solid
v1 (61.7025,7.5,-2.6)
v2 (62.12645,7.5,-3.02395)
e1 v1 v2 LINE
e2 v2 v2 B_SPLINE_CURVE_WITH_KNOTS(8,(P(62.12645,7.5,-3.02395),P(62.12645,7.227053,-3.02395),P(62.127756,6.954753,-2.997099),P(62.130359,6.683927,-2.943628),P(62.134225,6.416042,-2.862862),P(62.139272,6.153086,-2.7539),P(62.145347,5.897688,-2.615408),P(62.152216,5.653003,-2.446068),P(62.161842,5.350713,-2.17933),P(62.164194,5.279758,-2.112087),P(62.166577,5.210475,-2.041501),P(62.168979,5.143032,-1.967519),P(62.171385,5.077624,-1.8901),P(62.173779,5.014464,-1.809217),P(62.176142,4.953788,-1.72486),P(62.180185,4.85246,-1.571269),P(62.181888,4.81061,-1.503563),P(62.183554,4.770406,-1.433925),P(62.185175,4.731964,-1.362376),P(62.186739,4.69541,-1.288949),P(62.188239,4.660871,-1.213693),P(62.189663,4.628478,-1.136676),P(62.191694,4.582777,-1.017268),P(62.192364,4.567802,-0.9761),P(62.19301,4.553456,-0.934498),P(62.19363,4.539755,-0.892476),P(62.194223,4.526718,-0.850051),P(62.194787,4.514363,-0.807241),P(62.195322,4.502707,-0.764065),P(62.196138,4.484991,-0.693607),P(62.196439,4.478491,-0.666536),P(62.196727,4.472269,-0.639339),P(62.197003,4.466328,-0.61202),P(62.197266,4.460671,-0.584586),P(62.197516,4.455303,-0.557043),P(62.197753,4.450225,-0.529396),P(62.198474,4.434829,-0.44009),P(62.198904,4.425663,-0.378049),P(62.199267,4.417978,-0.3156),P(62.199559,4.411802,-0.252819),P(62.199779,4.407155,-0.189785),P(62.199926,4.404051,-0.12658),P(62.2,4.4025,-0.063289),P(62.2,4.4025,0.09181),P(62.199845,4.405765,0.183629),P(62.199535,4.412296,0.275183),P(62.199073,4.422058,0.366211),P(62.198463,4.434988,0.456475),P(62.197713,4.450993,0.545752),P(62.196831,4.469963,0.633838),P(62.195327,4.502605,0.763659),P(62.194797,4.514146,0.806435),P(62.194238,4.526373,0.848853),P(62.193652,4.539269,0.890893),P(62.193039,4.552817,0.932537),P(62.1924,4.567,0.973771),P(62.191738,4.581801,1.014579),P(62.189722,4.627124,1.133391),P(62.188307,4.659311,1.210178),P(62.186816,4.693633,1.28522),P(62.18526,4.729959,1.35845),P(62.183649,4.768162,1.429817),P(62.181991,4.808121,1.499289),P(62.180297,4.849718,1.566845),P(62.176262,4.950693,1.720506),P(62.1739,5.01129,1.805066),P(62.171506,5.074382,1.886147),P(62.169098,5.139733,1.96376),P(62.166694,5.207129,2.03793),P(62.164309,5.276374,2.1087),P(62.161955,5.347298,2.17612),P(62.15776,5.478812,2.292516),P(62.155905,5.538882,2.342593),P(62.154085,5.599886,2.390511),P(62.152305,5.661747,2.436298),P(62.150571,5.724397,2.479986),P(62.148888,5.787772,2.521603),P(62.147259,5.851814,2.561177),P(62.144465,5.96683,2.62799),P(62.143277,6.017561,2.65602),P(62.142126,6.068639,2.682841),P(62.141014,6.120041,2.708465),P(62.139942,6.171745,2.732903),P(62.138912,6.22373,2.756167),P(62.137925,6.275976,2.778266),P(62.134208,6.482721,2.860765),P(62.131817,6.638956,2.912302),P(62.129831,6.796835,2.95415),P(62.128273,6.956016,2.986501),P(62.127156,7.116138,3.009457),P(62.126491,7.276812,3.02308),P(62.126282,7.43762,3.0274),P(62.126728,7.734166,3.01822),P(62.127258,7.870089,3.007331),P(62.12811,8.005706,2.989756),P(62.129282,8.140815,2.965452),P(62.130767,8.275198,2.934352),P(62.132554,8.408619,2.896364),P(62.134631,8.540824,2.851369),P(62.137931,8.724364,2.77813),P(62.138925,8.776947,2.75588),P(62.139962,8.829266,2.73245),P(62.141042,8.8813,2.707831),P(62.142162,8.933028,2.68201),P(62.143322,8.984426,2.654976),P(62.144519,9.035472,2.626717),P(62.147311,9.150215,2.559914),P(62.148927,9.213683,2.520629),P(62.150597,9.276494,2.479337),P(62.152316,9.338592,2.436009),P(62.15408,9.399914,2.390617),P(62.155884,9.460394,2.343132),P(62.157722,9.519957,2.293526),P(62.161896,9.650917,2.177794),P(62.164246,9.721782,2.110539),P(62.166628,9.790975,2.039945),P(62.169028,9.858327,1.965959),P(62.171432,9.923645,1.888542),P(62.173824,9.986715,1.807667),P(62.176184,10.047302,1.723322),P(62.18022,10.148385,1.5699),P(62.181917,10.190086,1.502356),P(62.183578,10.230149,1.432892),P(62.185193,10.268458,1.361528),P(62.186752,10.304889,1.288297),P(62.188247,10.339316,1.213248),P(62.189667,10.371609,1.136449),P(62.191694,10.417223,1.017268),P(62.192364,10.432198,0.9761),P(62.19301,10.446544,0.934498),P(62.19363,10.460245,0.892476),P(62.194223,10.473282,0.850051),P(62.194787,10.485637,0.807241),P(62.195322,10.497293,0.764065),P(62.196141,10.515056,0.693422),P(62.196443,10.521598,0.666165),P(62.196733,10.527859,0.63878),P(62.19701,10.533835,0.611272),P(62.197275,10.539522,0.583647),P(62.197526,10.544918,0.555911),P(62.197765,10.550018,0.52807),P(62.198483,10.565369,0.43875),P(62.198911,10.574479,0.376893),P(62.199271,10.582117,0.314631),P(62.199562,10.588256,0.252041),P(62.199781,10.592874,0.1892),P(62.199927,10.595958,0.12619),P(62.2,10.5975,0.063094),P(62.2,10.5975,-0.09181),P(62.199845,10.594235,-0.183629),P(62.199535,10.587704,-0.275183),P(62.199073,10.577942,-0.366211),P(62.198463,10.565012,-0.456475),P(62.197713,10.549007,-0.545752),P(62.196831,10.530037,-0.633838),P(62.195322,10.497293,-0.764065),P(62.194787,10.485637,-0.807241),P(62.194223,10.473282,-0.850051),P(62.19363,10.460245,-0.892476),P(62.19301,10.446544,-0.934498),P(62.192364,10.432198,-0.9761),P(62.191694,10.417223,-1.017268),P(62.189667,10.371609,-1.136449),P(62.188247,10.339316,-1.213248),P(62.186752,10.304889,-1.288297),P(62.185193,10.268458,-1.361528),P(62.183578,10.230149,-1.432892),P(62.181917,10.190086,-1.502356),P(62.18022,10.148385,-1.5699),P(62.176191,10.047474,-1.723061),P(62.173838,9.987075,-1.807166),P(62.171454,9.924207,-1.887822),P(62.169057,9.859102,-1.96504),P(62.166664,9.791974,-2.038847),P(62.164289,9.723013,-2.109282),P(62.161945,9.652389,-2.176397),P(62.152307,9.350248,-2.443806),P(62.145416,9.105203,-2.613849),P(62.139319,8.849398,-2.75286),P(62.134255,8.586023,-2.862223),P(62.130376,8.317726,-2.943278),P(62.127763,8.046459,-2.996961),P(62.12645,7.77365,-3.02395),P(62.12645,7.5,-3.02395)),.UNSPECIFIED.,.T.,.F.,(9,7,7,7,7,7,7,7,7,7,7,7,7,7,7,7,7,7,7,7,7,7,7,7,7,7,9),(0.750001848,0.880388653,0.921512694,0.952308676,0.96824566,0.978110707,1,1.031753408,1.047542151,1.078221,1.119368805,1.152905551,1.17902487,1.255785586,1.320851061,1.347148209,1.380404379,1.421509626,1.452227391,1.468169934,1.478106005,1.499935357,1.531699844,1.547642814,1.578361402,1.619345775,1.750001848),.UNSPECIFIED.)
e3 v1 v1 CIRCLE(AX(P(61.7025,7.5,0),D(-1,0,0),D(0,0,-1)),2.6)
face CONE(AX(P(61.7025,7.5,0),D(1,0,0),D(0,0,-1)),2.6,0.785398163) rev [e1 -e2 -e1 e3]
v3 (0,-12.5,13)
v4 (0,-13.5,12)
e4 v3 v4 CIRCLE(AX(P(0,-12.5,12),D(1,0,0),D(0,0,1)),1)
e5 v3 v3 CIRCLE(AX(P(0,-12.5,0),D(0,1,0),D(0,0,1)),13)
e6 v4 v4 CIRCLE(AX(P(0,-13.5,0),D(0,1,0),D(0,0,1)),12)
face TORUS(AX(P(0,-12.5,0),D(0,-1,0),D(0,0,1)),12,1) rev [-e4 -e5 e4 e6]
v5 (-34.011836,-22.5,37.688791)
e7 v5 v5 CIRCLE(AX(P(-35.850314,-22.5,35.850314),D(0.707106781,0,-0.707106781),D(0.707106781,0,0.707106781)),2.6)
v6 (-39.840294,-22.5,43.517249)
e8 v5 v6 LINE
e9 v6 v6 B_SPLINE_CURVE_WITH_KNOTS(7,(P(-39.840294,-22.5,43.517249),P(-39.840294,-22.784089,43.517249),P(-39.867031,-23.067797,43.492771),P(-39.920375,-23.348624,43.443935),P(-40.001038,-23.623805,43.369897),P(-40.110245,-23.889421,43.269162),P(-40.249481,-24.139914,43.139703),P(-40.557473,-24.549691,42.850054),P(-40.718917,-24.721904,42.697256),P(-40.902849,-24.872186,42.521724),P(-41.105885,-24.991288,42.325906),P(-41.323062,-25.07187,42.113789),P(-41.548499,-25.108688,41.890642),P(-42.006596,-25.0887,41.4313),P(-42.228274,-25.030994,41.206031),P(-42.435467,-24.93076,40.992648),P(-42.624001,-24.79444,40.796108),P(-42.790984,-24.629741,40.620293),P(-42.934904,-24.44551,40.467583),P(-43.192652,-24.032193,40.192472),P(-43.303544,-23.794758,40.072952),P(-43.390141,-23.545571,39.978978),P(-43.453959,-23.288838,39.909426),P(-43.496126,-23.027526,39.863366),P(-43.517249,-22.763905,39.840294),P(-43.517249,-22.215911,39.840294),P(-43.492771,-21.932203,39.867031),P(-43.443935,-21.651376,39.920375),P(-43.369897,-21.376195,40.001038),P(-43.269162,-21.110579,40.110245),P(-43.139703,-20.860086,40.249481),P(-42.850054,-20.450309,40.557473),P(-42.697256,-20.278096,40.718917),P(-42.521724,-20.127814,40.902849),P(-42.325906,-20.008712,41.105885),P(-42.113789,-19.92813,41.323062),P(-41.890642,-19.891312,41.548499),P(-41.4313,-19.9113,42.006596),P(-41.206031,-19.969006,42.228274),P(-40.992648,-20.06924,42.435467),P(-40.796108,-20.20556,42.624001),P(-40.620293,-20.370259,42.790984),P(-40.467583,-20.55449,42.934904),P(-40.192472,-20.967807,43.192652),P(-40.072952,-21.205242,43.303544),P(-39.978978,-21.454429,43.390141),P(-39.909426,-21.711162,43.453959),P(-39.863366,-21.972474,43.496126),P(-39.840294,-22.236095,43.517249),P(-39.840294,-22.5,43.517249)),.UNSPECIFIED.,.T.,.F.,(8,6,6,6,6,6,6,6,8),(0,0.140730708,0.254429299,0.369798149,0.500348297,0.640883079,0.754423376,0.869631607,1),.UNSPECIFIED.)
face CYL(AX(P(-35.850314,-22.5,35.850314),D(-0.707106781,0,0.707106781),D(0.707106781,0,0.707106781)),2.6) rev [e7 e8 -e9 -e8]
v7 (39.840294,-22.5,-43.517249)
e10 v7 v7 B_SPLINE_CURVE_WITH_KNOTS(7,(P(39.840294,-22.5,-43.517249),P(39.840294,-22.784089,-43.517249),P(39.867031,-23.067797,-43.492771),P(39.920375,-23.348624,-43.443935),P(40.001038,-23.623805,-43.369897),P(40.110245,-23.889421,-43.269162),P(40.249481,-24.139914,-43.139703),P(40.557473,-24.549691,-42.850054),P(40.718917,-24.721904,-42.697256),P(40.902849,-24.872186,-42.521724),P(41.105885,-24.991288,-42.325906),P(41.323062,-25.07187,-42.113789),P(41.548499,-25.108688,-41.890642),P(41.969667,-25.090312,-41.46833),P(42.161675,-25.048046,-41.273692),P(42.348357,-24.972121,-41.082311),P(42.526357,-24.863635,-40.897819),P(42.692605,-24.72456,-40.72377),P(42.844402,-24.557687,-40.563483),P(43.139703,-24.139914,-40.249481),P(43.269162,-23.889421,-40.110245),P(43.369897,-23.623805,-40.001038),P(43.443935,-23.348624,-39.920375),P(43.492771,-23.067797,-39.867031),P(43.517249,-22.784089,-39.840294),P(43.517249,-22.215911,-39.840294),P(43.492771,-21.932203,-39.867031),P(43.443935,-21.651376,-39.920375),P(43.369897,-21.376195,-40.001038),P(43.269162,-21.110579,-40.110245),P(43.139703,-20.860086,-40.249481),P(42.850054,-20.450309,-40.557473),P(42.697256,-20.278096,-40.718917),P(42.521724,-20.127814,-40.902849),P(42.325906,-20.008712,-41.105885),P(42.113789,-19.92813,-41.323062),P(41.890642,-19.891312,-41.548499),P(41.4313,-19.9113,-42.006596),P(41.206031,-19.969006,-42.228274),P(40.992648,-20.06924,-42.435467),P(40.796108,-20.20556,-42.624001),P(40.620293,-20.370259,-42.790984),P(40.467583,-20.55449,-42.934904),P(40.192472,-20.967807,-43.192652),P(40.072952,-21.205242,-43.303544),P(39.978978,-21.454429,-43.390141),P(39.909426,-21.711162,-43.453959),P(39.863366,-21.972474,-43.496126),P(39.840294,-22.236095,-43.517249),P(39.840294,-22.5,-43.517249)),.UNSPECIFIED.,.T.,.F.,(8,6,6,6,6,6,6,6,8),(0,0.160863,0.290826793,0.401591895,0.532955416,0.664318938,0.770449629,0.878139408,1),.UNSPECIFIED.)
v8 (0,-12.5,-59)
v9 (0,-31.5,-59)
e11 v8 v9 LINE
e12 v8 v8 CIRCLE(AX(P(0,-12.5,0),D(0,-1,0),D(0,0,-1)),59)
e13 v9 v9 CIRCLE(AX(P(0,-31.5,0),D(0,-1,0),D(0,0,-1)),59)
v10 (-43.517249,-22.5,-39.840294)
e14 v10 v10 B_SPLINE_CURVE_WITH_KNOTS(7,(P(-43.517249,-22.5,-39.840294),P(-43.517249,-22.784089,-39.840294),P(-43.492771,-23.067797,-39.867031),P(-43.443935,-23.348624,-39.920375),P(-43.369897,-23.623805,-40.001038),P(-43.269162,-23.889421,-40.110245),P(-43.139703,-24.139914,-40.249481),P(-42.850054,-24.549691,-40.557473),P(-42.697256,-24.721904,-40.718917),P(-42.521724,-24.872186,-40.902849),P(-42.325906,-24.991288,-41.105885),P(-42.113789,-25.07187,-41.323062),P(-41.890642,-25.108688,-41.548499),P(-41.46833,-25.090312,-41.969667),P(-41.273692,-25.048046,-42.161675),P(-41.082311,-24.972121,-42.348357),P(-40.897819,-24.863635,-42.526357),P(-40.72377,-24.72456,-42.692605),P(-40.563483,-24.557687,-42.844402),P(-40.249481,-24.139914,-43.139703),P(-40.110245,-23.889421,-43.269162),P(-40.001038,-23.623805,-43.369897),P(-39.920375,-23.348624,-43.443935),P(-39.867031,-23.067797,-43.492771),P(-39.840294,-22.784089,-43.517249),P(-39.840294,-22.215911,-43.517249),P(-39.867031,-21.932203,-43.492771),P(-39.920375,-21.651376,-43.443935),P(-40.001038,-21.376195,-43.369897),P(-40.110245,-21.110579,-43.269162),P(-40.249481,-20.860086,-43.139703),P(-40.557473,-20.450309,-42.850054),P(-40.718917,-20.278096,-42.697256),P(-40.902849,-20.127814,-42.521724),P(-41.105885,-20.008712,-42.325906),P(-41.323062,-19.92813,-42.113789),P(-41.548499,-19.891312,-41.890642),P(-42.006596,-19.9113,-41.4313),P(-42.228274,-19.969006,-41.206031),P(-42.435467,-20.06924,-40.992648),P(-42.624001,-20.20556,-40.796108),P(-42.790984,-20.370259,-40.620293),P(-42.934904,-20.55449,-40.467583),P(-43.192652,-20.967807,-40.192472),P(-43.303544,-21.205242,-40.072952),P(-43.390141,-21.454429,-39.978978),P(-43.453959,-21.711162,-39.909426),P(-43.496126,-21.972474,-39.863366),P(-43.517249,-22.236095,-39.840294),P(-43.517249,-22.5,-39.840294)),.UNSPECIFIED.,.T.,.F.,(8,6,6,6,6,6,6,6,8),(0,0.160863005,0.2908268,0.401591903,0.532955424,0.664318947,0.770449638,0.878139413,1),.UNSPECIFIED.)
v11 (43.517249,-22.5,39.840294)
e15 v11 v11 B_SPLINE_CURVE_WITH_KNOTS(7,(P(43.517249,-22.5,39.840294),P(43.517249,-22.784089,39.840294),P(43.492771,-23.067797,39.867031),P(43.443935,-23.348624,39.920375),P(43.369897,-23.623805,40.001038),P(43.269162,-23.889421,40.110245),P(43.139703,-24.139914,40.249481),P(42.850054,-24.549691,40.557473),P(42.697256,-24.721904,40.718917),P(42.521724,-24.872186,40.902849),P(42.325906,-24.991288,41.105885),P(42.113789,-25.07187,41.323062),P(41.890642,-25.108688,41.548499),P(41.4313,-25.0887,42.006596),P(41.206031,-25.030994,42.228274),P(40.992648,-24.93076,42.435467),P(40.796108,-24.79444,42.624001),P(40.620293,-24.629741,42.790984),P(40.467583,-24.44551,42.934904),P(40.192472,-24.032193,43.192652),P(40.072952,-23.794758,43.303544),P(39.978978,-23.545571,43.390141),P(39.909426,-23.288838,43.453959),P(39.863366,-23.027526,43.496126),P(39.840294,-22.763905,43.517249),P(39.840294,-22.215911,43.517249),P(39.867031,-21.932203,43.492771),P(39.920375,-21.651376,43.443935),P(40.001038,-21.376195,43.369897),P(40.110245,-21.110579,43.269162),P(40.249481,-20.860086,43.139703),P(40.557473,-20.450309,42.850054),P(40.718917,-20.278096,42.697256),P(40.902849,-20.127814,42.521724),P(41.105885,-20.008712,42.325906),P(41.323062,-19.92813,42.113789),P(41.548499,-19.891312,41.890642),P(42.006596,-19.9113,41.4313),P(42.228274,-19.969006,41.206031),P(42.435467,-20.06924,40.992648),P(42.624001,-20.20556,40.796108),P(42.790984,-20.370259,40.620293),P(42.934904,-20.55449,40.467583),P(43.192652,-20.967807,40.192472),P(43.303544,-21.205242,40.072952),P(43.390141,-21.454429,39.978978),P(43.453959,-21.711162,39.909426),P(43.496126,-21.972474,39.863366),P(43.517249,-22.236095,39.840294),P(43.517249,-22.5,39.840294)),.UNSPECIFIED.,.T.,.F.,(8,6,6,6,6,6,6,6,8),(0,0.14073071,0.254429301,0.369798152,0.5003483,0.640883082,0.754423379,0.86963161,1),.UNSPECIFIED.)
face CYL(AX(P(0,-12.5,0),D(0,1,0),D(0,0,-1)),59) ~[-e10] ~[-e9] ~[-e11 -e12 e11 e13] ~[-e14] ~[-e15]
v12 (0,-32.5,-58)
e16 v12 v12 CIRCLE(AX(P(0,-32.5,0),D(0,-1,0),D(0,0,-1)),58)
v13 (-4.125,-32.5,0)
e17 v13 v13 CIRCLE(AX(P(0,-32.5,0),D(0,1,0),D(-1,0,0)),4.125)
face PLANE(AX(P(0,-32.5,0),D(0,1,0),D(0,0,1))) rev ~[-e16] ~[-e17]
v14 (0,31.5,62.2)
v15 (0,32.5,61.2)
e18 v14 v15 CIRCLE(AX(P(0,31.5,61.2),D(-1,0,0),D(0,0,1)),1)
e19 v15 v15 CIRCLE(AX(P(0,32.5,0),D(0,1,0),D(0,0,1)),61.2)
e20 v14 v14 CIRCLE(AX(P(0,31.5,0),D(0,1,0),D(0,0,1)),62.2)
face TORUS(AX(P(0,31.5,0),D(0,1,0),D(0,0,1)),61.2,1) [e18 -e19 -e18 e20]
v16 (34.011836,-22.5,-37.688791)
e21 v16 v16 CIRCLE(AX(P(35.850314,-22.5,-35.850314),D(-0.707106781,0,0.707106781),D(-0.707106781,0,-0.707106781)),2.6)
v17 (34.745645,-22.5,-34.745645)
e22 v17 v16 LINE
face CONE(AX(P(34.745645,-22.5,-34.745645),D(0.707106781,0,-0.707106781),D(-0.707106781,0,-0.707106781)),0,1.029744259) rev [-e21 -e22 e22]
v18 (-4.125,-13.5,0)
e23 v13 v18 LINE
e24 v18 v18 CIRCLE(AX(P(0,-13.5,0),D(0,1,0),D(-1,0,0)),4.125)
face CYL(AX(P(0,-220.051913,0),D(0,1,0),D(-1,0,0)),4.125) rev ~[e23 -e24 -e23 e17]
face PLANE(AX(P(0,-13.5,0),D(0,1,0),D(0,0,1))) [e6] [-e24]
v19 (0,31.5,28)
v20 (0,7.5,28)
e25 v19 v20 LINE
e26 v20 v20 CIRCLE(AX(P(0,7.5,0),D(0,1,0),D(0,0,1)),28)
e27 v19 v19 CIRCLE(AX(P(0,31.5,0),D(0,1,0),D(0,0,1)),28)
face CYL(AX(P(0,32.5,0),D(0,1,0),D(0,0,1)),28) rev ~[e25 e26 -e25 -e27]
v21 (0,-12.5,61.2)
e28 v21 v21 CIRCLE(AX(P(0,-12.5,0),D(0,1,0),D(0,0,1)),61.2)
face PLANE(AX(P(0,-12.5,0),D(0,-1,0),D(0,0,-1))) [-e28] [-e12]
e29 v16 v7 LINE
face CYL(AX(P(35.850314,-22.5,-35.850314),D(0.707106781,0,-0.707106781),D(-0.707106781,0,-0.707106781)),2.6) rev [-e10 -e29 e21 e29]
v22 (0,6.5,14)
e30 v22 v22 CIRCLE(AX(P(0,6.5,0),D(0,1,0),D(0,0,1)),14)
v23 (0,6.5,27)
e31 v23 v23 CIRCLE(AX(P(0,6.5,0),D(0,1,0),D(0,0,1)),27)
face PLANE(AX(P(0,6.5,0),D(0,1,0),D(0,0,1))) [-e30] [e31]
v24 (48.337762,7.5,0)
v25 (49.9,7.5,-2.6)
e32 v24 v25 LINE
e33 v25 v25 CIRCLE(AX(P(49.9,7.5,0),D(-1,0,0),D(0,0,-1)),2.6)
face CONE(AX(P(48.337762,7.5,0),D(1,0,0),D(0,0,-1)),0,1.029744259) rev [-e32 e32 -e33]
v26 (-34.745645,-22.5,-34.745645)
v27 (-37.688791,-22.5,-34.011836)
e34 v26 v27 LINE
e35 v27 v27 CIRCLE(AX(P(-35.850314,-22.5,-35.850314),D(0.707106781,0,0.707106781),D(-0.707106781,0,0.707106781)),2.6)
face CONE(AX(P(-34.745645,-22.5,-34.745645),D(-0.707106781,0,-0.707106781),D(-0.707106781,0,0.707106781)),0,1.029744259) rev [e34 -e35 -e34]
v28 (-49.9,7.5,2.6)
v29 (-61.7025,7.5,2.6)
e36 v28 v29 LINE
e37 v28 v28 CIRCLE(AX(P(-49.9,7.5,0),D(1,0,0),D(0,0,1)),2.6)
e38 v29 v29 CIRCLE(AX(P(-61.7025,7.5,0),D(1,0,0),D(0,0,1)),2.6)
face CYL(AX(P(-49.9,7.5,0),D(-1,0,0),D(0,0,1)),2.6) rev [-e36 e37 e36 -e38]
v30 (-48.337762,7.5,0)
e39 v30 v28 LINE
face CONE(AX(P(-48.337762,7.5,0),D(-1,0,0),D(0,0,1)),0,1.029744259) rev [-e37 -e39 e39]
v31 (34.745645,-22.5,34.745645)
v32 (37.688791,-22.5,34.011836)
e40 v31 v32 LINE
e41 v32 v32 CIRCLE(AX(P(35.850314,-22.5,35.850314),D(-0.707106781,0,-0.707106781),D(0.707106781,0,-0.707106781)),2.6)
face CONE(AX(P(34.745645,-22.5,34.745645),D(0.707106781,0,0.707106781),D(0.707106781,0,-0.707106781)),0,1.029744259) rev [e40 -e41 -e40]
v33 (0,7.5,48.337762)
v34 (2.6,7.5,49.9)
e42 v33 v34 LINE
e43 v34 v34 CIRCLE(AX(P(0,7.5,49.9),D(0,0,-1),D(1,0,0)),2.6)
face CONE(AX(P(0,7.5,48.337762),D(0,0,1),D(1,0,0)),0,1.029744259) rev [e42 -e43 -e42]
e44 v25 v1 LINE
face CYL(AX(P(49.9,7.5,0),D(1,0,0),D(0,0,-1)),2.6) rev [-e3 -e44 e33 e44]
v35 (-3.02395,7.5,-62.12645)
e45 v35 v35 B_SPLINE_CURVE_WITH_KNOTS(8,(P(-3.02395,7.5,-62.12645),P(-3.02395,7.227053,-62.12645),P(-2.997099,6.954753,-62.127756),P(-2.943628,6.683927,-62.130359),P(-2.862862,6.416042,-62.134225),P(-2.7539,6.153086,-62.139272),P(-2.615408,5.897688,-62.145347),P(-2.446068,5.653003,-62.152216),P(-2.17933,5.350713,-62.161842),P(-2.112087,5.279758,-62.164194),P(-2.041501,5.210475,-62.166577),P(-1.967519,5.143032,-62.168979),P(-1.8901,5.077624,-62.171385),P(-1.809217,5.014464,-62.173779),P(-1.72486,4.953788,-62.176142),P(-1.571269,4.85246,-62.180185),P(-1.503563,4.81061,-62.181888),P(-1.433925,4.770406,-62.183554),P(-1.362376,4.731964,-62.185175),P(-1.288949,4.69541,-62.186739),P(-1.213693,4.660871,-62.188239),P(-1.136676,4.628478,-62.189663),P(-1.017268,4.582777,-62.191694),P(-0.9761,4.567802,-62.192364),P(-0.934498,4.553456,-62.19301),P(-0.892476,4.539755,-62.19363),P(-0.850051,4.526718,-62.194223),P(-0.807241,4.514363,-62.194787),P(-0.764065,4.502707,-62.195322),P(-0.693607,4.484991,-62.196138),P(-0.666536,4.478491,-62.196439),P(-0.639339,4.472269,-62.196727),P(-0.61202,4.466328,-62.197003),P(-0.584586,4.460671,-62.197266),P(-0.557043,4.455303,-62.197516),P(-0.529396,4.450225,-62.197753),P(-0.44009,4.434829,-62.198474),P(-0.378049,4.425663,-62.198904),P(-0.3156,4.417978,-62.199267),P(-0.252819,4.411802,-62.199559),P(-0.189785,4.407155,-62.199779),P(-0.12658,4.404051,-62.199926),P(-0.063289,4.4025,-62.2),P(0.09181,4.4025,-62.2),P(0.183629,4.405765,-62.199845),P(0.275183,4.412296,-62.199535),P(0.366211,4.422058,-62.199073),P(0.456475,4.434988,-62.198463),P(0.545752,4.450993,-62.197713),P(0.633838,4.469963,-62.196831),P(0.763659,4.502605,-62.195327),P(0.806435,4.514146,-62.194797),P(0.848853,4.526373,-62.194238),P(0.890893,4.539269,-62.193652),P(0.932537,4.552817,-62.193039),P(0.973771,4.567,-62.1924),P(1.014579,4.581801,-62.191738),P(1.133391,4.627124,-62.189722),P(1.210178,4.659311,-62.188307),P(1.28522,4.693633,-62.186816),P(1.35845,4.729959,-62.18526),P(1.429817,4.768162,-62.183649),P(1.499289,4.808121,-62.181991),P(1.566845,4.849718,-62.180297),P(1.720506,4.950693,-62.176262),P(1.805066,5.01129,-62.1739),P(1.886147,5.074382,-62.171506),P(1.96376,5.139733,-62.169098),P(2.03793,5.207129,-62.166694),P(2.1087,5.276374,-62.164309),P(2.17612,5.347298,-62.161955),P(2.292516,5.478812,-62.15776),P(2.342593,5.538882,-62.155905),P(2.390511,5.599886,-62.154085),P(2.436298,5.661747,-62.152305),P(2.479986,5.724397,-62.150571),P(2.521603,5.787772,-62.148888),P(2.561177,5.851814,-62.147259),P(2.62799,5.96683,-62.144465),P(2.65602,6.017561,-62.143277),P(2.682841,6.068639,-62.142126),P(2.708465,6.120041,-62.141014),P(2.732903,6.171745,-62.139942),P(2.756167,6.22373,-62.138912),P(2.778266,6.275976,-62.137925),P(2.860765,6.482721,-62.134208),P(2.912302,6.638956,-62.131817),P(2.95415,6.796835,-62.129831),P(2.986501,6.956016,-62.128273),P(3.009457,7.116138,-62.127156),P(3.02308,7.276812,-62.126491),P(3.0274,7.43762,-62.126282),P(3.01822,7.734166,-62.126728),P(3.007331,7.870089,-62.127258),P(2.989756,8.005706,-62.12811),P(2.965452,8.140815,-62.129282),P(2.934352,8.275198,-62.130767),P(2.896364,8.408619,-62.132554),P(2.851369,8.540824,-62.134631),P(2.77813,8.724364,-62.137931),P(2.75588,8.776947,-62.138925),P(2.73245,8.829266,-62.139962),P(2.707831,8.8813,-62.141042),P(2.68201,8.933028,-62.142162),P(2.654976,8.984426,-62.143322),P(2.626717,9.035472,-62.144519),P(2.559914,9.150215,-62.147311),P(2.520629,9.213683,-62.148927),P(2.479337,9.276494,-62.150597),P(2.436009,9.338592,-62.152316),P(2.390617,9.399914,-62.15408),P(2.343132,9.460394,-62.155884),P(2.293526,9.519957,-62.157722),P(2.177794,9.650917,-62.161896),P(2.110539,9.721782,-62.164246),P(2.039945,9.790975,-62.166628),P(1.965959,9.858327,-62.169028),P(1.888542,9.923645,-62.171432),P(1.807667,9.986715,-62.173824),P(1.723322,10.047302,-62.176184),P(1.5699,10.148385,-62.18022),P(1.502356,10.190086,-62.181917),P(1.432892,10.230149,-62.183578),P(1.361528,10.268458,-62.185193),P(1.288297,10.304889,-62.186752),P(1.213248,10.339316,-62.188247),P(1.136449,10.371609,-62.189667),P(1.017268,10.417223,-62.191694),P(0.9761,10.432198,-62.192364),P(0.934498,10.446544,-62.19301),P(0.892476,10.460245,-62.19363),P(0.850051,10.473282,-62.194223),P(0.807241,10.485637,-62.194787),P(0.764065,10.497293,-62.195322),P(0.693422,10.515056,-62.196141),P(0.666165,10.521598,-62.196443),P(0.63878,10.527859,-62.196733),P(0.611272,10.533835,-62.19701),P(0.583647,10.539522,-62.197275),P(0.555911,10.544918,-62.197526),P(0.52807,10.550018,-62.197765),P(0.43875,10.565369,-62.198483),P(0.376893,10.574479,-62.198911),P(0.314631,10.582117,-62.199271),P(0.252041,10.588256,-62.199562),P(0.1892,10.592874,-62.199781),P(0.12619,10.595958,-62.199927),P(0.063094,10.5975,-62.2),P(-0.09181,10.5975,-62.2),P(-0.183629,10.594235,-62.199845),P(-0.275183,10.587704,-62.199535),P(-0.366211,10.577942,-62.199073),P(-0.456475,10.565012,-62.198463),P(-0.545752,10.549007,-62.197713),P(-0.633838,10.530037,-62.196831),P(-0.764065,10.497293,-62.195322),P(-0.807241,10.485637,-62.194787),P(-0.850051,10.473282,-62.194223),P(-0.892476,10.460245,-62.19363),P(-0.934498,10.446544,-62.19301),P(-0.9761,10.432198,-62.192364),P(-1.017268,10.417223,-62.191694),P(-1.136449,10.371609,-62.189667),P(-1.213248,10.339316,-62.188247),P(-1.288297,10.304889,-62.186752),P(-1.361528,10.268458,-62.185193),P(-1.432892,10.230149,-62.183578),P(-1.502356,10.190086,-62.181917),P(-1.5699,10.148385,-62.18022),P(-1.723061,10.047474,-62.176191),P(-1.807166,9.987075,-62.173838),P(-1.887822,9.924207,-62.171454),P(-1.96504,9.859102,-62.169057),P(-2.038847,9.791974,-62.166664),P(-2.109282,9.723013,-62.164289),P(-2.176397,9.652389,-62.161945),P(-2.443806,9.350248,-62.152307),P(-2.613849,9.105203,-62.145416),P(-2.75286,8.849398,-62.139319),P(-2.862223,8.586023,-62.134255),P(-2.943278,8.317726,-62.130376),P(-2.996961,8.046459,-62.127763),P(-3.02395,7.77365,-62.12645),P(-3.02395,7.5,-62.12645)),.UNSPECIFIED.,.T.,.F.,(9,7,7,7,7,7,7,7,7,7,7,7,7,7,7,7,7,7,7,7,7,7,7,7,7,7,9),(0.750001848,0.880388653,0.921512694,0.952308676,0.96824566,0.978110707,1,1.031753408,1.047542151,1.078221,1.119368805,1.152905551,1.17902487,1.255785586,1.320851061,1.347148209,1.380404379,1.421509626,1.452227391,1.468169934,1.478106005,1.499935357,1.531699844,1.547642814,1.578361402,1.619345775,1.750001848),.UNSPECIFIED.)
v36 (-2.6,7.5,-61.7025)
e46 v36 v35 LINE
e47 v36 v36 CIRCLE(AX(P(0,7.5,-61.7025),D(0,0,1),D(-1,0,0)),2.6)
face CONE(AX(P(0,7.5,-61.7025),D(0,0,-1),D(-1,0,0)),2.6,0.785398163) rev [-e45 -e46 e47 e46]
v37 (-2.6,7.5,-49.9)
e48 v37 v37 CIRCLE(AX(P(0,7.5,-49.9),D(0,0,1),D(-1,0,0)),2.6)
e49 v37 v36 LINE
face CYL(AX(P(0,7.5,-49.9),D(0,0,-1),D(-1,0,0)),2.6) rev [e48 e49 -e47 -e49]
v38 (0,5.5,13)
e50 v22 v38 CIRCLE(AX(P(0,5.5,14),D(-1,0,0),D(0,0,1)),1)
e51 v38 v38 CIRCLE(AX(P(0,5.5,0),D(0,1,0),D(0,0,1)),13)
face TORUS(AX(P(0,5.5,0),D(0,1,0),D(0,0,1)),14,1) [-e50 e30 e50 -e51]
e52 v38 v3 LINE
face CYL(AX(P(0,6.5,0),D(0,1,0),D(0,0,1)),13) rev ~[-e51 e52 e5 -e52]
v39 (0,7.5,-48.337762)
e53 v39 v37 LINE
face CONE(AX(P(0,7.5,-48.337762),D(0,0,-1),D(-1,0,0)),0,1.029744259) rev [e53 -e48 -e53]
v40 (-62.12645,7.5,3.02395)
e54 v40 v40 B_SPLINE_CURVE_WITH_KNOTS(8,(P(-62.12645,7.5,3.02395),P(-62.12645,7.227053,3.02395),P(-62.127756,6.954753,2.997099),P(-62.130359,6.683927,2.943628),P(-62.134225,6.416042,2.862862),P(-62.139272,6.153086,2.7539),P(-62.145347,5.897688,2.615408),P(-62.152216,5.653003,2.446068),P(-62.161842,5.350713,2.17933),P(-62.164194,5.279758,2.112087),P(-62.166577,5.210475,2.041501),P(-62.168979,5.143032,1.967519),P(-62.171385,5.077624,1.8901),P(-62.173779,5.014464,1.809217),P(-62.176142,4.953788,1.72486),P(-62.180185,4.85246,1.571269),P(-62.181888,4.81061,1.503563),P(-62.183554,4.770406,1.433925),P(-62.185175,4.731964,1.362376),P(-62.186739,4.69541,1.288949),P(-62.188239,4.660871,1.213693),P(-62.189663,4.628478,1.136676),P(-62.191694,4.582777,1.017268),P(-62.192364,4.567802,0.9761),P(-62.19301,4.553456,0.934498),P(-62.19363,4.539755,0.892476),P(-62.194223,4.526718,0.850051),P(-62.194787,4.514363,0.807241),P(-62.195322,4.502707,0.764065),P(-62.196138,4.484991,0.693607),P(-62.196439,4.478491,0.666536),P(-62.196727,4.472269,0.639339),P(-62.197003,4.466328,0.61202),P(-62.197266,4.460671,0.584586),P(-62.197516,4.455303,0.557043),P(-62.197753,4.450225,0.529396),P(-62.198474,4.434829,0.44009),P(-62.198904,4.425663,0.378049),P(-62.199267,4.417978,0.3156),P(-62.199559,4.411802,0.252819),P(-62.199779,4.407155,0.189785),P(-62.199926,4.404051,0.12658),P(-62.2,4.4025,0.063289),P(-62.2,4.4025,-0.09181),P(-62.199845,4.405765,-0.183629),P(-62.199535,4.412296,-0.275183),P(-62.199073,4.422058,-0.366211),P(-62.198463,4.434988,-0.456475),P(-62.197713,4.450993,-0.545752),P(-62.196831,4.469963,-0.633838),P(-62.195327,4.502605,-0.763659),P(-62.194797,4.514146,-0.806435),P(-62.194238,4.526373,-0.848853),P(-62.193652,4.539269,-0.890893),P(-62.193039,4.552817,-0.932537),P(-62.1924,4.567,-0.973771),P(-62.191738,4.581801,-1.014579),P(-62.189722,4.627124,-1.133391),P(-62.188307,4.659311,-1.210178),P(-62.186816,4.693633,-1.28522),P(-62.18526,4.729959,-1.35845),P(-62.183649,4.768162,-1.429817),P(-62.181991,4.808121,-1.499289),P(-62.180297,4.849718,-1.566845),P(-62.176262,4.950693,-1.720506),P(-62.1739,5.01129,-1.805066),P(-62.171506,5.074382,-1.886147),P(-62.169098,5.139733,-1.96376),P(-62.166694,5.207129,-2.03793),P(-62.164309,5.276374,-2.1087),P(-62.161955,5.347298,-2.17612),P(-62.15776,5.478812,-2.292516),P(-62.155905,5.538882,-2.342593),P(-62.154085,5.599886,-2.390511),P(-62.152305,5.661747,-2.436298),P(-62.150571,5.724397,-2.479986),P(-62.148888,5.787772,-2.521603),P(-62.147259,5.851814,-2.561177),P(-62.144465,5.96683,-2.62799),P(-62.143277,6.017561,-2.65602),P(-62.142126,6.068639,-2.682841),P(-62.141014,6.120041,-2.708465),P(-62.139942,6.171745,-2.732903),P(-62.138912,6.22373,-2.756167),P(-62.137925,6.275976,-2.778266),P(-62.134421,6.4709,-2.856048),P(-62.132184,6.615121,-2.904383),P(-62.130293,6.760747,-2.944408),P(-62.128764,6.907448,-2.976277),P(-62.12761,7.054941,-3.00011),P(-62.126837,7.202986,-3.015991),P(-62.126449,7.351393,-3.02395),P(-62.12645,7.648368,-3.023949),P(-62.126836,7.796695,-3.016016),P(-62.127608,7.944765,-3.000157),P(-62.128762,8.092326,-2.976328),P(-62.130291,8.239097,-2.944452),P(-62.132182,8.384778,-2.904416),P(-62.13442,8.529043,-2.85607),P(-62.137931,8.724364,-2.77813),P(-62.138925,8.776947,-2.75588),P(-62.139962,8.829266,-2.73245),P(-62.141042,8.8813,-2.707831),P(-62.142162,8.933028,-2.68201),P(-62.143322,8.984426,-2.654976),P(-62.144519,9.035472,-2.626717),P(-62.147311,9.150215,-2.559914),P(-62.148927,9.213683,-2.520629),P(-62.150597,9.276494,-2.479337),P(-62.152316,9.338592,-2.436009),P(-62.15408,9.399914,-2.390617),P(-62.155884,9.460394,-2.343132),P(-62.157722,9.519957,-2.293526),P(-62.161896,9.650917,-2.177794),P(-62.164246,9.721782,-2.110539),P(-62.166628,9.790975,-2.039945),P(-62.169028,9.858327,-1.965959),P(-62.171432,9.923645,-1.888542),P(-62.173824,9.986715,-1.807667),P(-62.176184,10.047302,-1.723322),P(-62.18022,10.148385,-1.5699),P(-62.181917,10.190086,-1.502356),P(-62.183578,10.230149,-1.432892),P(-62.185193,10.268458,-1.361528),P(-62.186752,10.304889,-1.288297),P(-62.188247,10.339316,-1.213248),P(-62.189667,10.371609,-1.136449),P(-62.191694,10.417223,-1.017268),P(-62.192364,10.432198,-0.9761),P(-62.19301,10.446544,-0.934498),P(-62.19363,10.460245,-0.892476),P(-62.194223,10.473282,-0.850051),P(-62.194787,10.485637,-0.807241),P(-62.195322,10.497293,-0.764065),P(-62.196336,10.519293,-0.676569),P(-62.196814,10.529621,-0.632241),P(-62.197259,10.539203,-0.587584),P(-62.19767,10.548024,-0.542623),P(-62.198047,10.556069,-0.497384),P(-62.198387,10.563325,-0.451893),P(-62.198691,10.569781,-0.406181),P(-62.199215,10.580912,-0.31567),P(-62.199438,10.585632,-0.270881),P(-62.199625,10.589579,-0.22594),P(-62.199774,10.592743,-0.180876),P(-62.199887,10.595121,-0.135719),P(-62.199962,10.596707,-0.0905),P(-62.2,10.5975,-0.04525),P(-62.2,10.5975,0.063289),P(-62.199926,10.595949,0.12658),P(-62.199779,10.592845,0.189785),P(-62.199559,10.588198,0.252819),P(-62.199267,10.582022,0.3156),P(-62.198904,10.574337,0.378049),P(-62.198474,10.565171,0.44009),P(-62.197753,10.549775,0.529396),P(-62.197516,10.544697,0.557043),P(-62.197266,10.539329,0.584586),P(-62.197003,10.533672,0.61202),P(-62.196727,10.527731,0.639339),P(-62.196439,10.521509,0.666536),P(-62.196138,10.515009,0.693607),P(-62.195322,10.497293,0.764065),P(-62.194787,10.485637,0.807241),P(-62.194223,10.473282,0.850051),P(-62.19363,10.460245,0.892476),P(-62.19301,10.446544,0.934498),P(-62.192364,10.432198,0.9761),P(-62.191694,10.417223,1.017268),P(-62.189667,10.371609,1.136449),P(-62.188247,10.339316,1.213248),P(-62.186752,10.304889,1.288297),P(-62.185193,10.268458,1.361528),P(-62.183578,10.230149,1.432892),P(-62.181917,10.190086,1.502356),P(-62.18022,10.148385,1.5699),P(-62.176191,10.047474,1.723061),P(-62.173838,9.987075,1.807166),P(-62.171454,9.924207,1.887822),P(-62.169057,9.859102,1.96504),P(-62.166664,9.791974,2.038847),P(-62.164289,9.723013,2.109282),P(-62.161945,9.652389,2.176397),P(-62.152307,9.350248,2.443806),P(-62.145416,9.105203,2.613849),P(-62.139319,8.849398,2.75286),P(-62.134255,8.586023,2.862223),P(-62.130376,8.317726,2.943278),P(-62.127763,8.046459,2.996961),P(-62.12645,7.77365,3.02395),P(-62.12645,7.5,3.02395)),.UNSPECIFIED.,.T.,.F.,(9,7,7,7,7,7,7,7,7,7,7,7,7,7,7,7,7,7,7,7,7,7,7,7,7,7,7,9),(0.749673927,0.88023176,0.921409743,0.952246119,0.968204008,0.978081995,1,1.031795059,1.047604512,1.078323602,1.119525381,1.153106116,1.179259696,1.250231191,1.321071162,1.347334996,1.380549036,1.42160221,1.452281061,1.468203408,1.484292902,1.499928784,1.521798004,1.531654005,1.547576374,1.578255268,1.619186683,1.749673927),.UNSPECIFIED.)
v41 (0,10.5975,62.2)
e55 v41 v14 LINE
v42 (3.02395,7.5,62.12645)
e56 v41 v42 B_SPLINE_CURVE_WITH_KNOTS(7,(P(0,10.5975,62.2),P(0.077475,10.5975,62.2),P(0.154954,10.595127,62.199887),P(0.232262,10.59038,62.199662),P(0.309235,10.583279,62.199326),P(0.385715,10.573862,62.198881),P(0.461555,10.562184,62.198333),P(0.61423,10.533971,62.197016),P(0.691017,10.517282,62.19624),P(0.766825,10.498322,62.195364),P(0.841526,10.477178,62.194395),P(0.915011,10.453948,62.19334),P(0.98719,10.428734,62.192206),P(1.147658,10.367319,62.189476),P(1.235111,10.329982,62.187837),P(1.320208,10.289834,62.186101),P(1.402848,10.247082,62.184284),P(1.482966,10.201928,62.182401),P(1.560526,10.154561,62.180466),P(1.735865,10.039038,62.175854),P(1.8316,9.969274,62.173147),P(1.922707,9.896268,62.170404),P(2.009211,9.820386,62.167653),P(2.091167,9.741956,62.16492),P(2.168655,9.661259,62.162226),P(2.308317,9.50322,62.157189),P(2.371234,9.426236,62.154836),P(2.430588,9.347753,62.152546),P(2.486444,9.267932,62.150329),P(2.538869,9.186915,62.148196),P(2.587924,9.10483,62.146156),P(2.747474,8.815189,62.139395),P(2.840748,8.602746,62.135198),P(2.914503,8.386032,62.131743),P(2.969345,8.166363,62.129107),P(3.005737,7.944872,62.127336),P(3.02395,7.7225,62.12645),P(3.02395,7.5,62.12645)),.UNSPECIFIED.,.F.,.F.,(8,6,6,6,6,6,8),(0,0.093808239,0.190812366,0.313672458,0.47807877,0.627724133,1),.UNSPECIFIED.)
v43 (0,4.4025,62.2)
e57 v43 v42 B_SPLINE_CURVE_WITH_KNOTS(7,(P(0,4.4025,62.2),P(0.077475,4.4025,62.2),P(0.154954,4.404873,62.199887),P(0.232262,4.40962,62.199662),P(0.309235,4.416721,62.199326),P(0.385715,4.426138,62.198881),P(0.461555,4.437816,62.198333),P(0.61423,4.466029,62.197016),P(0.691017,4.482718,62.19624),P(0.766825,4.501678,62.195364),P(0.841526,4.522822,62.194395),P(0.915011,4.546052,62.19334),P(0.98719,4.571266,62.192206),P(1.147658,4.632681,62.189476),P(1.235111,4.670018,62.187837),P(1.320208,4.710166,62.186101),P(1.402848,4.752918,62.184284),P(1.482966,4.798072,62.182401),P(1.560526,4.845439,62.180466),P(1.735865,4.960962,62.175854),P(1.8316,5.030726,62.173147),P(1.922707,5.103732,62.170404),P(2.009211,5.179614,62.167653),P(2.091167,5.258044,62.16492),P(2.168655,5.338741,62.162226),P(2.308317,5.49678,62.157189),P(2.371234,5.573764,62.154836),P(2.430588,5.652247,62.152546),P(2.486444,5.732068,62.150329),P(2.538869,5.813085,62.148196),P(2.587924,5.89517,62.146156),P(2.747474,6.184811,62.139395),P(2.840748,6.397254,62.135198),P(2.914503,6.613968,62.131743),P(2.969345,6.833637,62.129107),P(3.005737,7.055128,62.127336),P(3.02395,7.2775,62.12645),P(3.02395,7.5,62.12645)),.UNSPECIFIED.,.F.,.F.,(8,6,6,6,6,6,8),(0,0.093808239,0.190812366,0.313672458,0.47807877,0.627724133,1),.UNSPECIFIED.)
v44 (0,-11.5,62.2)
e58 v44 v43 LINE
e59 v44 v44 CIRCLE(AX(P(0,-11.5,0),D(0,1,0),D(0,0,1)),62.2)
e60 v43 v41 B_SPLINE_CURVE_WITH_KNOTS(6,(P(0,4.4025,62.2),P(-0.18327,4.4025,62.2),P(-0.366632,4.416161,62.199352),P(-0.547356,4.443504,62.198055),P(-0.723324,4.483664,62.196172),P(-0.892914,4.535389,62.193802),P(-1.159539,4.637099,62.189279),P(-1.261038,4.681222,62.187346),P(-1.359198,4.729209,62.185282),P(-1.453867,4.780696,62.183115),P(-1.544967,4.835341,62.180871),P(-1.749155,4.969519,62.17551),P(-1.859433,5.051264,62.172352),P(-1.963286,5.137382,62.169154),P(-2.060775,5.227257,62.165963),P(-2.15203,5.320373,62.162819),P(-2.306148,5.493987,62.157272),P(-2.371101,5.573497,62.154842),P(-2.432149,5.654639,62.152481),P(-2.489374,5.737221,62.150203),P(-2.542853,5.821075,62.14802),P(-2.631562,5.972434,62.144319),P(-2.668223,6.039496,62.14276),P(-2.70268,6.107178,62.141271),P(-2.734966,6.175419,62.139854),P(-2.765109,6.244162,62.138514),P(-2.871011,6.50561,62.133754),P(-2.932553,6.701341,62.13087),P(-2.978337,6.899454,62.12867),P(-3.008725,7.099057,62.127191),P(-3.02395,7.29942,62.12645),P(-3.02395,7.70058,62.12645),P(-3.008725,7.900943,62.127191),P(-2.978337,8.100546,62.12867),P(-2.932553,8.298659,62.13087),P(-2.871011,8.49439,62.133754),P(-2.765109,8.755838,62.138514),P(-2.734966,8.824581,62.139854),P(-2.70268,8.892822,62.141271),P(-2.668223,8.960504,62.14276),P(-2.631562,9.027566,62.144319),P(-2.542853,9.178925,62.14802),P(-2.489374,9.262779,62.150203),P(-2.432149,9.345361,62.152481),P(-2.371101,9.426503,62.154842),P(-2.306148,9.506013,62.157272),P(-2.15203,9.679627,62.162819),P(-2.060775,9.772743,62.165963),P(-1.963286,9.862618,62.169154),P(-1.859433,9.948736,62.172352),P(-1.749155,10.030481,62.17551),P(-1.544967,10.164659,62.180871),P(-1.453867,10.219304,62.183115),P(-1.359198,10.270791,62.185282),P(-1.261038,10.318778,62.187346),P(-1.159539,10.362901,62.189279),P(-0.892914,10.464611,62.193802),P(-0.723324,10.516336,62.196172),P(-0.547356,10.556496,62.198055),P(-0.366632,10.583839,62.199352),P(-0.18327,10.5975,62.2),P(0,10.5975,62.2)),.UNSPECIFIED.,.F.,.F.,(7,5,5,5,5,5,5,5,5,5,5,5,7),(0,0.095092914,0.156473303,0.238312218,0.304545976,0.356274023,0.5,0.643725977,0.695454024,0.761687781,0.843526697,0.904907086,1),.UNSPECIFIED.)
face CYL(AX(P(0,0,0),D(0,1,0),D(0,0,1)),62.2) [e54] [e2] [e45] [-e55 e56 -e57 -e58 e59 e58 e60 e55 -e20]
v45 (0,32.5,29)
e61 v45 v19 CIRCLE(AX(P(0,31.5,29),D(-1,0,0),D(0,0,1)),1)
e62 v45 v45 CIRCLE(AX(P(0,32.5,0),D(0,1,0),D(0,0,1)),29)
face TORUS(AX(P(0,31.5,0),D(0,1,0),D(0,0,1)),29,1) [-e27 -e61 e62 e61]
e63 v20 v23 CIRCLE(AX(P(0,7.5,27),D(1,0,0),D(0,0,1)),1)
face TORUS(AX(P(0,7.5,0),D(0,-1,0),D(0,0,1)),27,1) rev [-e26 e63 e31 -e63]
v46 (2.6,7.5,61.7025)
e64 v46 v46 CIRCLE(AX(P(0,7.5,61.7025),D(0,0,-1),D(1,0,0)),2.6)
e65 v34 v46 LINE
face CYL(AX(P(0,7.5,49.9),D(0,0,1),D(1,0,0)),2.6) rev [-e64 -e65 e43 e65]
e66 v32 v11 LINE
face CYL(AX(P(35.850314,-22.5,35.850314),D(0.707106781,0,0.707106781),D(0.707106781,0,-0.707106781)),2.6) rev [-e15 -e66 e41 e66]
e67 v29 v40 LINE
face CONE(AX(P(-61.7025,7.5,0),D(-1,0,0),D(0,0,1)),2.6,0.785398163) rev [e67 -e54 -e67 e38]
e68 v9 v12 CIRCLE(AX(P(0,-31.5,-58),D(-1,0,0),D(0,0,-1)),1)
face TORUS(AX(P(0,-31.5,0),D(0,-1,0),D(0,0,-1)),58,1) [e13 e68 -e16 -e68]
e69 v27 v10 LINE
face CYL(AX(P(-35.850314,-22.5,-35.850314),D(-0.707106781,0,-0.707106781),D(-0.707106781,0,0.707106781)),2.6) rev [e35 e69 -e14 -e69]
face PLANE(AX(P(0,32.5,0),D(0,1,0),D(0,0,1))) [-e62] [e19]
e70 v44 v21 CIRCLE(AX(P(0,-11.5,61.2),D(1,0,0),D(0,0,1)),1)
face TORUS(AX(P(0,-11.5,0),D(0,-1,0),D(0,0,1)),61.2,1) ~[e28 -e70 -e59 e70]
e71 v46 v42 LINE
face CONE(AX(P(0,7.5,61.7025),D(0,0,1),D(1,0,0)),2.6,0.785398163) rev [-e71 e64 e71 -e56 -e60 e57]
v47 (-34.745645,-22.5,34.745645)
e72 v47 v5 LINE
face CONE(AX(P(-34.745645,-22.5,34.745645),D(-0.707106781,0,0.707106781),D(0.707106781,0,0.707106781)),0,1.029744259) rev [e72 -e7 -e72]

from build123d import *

# Parameters (mm, degrees)
IZIM1_R                             = 62.2
Y_KSEKLIK_EKSTR_ZYON1_DEPTH         = 32.5
IZIM2_R                             = 28
KES_EKSTR_ZYON1_DEPTH               = 26
IZIM3_R                             = 13
KES_EKSTR_ZYON2_DEPTH               = 20
KES_EKSTR_ZYON3_START               = -20
IZIM4_R                             = 62.2
IZIM4_R_2                           = 59
KES_EKSTR_ZYON3_DEPTH               = 20
DAIRESEL_KAPLAMA1_COUNT             = 4
DAIRESEL_KAPLAMA3_COUNT             = 4
RADYUS2_R                           = 1
M8X1_0_HELISARMAL_IN_DI_LI_DELIK3_D = 8.25


with BuildPart() as part:
    # Çizim1 → Yükseklik-Ekstrüzyon1 (new, symmetric)
    with BuildSketch(Plane(origin=(0, 0, 0), x_dir=(1, 0, 0), z_dir=(0, 1, 0))):
        with Locations(Location((0, 0, 0), (0, 0, 270))):
            Circle(IZIM1_R)
    extrude(amount=Y_KSEKLIK_EKSTR_ZYON1_DEPTH, both=True)

    # Çizim2 → Kes-Ekstrüzyon1 (cut)
    with BuildSketch(Plane(origin=(0, 32.5, 0), x_dir=(1, 0, 0), z_dir=(0, 1, 0))):
        with Locations(Location((0, 0, 0), (0, 0, 270))):
            Circle(IZIM2_R)
    extrude(amount=-KES_EKSTR_ZYON1_DEPTH, mode=Mode.SUBTRACT)

    # Çizim3 → Kes-Ekstrüzyon2 (cut)
    with BuildSketch(Plane(origin=(0, 6.5, 0), x_dir=(1, 0, 0), z_dir=(0, 1, 0))):
        with Locations(Location((0, 0, 0), (0, 0, 270))):
            Circle(IZIM3_R)
    extrude(amount=-KES_EKSTR_ZYON2_DEPTH, mode=Mode.SUBTRACT)

    # Çizim4 → Kes-Ekstrüzyon3 (cut)
    with BuildSketch(Plane.XZ.offset(32.5).offset(KES_EKSTR_ZYON3_START)):
        with Locations(Location((0, 0, 0), (0, 0, 270))):
            Circle(IZIM4_R)
        with Locations(Location((0, 0, 0), (0, 0, 270))):
            Circle(IZIM4_R_2, mode=Mode.SUBTRACT)
    extrude(amount=KES_EKSTR_ZYON3_DEPTH, mode=Mode.SUBTRACT)

    # Çizim9 → M5x0.8 Helisarmal İçin Dişli Delik2 (revolve, cut)
    with BuildSketch(Plane(origin=(62.2, 7.5, 0), x_dir=(0, 0, -1), z_dir=(0, 1, 0))):
        Polygon((0, 0), (0, 13.862237609), (2.6, 12.3), (2.6, 0.4975), (3.0975, 0), align=None)
    m5x0_8_helisarmal_in_di_li_delik2 = revolve(axis=Axis((68.55, 7.5, 0), (-1, 0, 0)), mode=Mode.SUBTRACT)

    # Dairesel Kaplama1: M5x0.8 Helisarmal İçin Dişli Delik2 ×4 about axis
    dairesel_kaplama1_axis = Axis((0, 32.5, 0), (0, 1, 0))
    for i in range(1, DAIRESEL_KAPLAMA1_COUNT):
        add(m5x0_8_helisarmal_in_di_li_delik2.rotate(dairesel_kaplama1_axis, i * 360 / DAIRESEL_KAPLAMA1_COUNT), mode=Mode.SUBTRACT)

    # Çizim24 → M5x0.8 Helisarmal İçin Dişli Delik6 (revolve, cut)
    with BuildSketch(Plane(origin=(41.71930009, -22.5, 41.71930009), x_dir=(0.707106781186549, 0, -0.707106781186546), z_dir=(0, 1, 0))):
        Polygon((0, 0), (0, 9.862237609), (2.6, 8.3), (2.6, 0), align=None)
    m5x0_8_helisarmal_in_di_li_delik6 = revolve(axis=Axis((46.209428151, -22.5, 46.209428151), (-0.707106781186546, 0, -0.707106781186549)), mode=Mode.SUBTRACT)

    # Dairesel Kaplama3: M5x0.8 Helisarmal İçin Dişli Delik6 ×4 about axis
    dairesel_kaplama3_axis = Axis((0, -32.5, 0), (0, -1, 0))
    for i in range(1, DAIRESEL_KAPLAMA3_COUNT):
        add(m5x0_8_helisarmal_in_di_li_delik6.rotate(dairesel_kaplama3_axis, i * 360 / DAIRESEL_KAPLAMA3_COUNT), mode=Mode.SUBTRACT)

    # Radyus2
    radyus2_edges = [part.edges().sort_by_distance(p)[0] for p in [
        (0, -13.5, -13),
        (0, 6.5, -13),
        (0, -12.5, -62.2),
        (0, -32.5, 59),
        (0, 32.5, -62.2),
        (0, 6.5, -28),
        (0, 32.5, -28),
    ]]
    fillet(radyus2_edges, radius=RADYUS2_R)

    # M8x1.0 Helisarmal İçin Dişli Delik3 (through all)
    with Locations(Plane.XZ.offset(32.5)):
        with Locations((0, 0)):
            Hole(M8X1_0_HELISARMAL_IN_DI_LI_DELIK3_D / 2)


solid = part.part
